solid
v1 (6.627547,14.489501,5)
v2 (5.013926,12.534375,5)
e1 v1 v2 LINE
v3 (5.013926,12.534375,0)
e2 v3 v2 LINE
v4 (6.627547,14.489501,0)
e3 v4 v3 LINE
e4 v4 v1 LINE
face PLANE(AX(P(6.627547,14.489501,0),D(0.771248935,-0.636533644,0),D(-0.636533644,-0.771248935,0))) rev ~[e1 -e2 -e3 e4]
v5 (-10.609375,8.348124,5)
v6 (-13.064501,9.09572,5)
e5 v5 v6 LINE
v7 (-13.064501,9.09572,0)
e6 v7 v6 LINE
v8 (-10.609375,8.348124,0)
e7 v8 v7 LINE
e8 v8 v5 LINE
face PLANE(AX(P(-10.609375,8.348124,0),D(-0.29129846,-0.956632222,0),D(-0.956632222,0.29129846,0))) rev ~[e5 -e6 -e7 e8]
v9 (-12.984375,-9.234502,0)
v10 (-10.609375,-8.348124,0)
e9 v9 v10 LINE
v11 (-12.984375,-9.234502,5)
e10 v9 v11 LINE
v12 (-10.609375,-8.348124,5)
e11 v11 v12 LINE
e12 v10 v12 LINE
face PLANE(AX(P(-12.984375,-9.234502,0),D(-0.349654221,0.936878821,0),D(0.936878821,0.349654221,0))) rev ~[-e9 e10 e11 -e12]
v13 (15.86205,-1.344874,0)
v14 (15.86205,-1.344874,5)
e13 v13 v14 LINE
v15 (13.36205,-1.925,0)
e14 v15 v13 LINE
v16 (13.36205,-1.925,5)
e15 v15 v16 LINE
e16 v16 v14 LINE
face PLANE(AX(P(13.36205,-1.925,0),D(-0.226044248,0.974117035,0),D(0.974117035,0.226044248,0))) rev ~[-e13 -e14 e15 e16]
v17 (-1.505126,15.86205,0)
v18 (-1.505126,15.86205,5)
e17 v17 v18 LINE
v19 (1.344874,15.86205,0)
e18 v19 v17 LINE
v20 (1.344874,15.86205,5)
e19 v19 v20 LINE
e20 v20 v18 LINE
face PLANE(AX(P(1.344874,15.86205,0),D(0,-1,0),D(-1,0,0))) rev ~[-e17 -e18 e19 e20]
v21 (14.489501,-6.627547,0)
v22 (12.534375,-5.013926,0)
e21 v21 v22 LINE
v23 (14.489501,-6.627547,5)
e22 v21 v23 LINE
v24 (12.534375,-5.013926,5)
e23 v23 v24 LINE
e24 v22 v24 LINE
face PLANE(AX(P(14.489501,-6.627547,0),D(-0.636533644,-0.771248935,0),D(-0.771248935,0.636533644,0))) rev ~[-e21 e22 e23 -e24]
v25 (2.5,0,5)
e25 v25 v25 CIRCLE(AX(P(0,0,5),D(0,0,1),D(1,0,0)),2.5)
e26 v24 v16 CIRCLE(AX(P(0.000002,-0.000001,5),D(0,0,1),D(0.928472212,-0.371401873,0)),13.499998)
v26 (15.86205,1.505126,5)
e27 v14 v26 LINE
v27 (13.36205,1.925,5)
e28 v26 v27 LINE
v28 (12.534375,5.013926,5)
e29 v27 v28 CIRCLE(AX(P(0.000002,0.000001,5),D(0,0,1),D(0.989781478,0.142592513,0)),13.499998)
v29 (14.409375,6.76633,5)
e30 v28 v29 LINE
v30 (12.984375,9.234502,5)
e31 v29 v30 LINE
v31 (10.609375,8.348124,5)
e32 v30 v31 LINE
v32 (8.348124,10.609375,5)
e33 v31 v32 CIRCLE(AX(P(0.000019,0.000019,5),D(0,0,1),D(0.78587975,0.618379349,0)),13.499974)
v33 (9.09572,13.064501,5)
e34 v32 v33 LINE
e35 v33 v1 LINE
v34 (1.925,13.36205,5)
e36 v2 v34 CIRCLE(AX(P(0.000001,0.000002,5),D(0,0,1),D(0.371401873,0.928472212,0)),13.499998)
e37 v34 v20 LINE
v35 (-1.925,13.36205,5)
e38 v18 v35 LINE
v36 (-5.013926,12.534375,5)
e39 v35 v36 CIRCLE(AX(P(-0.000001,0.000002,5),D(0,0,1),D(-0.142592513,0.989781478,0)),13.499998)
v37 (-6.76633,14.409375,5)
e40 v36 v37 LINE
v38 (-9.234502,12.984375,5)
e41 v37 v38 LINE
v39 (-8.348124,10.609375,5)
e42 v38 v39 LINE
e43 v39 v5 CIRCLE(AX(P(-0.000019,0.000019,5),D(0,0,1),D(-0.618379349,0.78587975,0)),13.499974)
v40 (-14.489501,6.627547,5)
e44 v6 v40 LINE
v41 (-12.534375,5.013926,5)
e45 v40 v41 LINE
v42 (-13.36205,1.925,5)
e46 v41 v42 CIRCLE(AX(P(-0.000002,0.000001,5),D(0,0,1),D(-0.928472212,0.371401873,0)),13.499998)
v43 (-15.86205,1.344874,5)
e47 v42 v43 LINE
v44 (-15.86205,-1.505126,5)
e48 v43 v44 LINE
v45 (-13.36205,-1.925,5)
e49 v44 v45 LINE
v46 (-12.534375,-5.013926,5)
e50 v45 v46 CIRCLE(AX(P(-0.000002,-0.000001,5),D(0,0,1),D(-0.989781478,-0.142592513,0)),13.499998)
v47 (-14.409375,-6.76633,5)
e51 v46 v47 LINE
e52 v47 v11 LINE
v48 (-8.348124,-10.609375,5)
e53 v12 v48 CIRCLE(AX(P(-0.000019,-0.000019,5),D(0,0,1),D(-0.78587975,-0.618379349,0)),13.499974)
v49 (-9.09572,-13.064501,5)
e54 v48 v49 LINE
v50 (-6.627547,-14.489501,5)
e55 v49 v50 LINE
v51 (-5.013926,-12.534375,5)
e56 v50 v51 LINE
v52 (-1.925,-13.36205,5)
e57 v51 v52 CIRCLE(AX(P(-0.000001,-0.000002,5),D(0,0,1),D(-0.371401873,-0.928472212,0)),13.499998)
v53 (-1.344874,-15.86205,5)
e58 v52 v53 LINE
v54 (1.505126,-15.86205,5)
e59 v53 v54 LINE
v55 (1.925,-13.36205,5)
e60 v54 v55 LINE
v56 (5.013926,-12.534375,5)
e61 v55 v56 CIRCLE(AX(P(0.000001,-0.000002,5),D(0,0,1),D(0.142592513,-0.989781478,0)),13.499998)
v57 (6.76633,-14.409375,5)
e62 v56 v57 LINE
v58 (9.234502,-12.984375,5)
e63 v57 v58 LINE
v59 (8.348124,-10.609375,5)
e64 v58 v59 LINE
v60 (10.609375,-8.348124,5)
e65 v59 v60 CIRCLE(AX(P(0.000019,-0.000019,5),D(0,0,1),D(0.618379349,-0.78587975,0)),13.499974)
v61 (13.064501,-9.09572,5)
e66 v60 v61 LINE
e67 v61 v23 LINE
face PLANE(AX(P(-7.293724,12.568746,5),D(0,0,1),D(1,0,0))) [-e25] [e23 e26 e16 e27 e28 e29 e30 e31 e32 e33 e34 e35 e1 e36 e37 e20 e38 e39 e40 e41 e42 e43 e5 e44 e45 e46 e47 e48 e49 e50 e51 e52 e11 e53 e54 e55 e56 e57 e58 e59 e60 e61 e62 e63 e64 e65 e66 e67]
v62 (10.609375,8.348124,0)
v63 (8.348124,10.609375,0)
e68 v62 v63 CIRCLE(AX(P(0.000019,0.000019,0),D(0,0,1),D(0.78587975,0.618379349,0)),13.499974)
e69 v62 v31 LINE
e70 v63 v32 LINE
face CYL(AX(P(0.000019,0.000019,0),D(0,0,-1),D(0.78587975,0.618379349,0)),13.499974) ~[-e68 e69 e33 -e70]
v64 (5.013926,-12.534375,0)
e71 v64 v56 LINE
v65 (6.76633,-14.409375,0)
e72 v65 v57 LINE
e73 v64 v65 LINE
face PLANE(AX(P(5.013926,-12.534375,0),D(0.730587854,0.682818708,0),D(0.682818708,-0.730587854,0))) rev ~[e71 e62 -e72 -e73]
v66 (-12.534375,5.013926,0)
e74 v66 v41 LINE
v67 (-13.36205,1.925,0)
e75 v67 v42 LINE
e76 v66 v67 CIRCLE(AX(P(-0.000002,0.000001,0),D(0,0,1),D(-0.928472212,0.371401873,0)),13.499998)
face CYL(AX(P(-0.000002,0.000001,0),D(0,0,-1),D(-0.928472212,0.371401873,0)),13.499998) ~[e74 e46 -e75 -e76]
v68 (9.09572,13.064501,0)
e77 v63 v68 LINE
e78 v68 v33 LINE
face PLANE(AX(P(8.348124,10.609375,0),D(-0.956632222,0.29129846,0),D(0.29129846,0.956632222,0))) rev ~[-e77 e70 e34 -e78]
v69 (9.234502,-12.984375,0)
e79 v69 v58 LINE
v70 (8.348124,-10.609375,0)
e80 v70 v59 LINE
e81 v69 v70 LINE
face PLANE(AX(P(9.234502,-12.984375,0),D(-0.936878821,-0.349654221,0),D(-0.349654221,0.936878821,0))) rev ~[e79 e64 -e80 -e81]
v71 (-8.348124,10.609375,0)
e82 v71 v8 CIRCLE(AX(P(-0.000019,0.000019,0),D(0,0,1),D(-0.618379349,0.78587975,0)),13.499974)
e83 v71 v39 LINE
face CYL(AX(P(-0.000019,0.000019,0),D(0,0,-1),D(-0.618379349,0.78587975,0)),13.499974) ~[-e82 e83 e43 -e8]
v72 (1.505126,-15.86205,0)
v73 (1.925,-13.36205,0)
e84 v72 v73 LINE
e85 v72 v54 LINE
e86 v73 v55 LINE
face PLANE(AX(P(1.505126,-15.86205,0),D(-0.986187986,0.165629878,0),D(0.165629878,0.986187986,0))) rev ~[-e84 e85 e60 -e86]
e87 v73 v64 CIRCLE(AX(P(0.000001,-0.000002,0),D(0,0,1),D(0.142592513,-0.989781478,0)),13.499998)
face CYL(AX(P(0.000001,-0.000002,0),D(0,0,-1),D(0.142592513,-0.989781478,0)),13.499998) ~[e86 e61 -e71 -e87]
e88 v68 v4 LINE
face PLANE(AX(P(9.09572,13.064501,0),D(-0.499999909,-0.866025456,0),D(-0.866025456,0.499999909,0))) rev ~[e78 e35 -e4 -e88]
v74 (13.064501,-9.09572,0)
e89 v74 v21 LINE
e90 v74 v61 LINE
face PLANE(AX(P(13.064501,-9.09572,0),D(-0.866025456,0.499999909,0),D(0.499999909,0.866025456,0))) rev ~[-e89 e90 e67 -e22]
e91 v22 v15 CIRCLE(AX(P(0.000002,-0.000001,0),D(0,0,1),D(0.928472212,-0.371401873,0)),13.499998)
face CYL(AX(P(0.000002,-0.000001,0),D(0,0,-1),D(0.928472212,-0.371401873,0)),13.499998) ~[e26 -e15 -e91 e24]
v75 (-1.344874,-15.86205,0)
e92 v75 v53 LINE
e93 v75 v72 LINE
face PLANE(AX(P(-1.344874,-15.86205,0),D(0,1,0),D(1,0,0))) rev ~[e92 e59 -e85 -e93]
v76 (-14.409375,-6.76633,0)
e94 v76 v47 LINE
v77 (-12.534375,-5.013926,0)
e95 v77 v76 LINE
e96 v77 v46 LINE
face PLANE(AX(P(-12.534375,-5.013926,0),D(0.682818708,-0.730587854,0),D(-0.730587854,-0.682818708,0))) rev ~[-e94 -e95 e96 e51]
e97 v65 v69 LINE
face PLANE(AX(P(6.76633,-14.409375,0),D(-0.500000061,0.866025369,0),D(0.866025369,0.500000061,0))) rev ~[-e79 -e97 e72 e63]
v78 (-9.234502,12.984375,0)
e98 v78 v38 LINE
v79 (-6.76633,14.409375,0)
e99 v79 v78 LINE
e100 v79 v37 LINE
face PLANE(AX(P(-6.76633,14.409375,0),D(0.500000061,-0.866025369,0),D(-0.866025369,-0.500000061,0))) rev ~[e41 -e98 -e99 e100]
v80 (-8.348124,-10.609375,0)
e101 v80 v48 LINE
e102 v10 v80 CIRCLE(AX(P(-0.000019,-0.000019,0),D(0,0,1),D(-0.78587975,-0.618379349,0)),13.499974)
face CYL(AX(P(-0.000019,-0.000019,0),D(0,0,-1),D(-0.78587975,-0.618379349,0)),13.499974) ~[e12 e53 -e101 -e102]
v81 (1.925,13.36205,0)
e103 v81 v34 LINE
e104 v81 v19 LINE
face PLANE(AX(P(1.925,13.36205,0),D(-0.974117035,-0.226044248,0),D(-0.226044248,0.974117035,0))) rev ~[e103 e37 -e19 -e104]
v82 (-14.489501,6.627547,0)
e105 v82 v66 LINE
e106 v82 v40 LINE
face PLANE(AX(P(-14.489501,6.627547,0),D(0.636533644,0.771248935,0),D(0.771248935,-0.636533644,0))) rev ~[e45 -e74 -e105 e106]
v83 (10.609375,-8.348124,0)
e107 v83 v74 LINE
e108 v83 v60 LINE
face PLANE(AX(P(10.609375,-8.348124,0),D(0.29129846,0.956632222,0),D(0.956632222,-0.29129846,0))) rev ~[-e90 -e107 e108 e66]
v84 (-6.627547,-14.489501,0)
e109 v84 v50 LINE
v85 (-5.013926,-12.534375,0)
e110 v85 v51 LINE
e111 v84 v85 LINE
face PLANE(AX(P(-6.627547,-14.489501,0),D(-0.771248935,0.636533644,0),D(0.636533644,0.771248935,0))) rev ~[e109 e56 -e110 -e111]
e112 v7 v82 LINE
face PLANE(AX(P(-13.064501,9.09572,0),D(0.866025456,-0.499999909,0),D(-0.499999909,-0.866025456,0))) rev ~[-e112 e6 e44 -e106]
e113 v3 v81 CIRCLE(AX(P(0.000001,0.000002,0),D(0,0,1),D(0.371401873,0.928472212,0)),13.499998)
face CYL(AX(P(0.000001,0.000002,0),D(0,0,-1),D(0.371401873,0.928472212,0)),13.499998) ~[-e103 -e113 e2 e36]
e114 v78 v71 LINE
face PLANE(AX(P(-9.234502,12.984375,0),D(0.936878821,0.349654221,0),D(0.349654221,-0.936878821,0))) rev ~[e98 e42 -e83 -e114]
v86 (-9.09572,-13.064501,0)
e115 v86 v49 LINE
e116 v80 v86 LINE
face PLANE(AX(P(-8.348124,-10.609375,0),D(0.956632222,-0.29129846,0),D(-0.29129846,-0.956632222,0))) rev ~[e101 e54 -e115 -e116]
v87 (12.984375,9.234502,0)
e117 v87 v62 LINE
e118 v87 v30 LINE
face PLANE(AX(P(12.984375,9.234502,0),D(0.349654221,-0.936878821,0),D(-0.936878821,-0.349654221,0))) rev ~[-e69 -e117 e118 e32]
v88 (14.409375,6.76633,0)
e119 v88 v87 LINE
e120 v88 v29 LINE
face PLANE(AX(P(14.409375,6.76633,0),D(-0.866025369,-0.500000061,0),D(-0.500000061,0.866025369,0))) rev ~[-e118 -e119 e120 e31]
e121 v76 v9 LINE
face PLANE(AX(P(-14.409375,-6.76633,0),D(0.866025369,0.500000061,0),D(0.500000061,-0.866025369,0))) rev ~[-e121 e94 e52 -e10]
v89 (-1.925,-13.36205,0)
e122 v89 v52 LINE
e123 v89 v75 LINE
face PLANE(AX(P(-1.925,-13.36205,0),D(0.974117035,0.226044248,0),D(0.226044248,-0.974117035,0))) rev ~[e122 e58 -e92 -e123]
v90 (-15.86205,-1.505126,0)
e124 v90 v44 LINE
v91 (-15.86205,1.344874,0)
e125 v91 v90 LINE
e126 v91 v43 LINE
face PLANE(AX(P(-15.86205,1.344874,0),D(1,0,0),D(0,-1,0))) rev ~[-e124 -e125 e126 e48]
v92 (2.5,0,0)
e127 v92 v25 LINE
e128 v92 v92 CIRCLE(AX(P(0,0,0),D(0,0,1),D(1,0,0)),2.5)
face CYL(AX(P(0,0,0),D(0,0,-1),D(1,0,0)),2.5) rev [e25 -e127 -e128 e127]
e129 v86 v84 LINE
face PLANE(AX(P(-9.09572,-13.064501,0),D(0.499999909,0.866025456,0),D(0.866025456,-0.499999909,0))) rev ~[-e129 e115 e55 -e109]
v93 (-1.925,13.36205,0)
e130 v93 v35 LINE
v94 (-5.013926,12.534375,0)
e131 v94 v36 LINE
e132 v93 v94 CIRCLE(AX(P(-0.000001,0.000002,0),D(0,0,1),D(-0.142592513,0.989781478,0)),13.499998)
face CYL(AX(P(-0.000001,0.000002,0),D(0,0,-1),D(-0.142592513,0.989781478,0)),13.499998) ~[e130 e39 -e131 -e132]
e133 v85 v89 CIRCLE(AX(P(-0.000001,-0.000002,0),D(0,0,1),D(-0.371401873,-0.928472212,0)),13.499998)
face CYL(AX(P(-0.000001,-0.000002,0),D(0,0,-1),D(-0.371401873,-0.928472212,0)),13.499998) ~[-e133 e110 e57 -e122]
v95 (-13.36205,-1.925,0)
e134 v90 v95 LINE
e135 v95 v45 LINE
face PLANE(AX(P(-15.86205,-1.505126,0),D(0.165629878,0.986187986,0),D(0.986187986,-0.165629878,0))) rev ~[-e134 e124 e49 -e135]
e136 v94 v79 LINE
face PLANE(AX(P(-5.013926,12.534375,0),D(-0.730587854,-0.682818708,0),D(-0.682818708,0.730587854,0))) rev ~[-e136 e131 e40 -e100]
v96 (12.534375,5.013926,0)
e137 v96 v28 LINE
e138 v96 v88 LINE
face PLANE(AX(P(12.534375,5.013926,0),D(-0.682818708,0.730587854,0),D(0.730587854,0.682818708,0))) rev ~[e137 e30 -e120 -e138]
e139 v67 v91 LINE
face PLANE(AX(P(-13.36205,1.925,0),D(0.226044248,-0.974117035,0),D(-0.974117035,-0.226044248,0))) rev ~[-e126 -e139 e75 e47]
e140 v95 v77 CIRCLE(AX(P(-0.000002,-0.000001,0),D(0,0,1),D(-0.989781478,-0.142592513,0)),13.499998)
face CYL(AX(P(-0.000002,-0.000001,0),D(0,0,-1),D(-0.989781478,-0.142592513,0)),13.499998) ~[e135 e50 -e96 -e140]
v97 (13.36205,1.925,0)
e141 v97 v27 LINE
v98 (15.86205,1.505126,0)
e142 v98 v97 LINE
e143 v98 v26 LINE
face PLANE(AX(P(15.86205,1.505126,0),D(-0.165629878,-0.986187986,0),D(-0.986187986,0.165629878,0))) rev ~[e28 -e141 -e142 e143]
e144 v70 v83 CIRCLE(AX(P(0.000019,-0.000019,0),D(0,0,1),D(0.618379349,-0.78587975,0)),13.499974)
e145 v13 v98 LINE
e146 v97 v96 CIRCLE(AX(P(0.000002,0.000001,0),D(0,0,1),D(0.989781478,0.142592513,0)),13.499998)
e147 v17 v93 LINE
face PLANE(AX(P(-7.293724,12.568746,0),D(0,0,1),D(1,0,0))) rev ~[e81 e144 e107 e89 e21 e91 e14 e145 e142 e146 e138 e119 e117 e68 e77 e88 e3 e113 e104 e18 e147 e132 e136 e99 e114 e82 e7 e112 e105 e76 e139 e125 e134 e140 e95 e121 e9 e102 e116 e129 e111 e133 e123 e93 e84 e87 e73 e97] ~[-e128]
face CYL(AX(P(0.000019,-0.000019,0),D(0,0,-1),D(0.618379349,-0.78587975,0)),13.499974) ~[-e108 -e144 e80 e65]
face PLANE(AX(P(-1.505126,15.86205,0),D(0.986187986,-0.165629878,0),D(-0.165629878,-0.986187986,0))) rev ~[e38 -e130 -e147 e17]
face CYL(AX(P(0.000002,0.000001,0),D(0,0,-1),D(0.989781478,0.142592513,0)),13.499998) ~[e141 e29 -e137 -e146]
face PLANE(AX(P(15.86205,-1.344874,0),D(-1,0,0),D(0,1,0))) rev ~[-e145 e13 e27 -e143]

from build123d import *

# Parameters (mm, degrees)
F0_R     = 2.5
F1_DEPTH = 5


with BuildPart() as f1:
    # F0 (on Top) → F1 (new body)
    with BuildSketch(Plane.XY):
        with BuildLine():
            ThreePointArc((-8.348124, 10.609375), (-6.75, 11.691343), (-5.013926, 12.534375))
            Line((-5.013926, 12.534375), (-6.76633, 14.409375))
            Line((-6.76633, 14.409375), (-9.234502, 12.984375))
            Line((-9.234502, 12.984375), (-8.348124, 10.609375))
        make_face()
        with BuildLine():
            Line((13.36205, -1.925), (13.36205, 1.925))
            ThreePointArc((13.36205, 1.925), (13.039999, 3.494057), (12.534375, 5.013926))
            Line((12.534375, 5.013926), (10.609375, 8.348124))
            ThreePointArc((10.609375, 8.348124), (9.545942, 9.545942), (8.348124, 10.609375))
            Line((8.348124, 10.609375), (5.013926, 12.534375))
            ThreePointArc((5.013926, 12.534375), (3.494057, 13.039999), (1.925, 13.36205))
            Line((1.925, 13.36205), (-1.925, 13.36205))
            ThreePointArc((-1.925, 13.36205), (-3.494057, 13.039999), (-5.013926, 12.534375))
            Line((-5.013926, 12.534375), (-8.348124, 10.609375))
            ThreePointArc((-8.348124, 10.609375), (-9.545942, 9.545942), (-10.609375, 8.348124))
            Line((-10.609375, 8.348124), (-12.534375, 5.013926))
            ThreePointArc((-12.534375, 5.013926), (-13.039999, 3.494057), (-13.36205, 1.925))
            Line((-13.36205, 1.925), (-13.36205, -1.925))
            ThreePointArc((-13.36205, -1.925), (-13.039999, -3.494057), (-12.534375, -5.013926))
            Line((-12.534375, -5.013926), (-10.609375, -8.348124))
            ThreePointArc((-10.609375, -8.348124), (-9.545942, -9.545942), (-8.348124, -10.609375))
            Line((-8.348124, -10.609375), (-5.013926, -12.534375))
            ThreePointArc((-5.013926, -12.534375), (-3.494057, -13.039999), (-1.925, -13.36205))
            Line((-1.925, -13.36205), (1.925, -13.36205))
            ThreePointArc((1.925, -13.36205), (3.494057, -13.039999), (5.013926, -12.534375))
            Line((5.013926, -12.534375), (8.348124, -10.609375))
            ThreePointArc((8.348124, -10.609375), (9.545942, -9.545942), (10.609375, -8.348124))
            Line((10.609375, -8.348124), (12.534375, -5.013926))
            ThreePointArc((12.534375, -5.013926), (13.039999, -3.494057), (13.36205, -1.925))
        make_face()
        Circle(F0_R, mode=Mode.SUBTRACT)
        with BuildLine():
            ThreePointArc((-12.534375, 5.013926), (-11.691343, 6.75), (-10.609375, 8.348124))
            Line((-10.609375, 8.348124), (-13.064501, 9.09572))
            Line((-13.064501, 9.09572), (-14.489501, 6.627547))
            Line((-14.489501, 6.627547), (-12.534375, 5.013926))
        make_face()
        with BuildLine():
            ThreePointArc((-13.36205, -1.925), (-13.5, 0), (-13.36205, 1.925))
            Line((-13.36205, 1.925), (-15.86205, 1.344874))
            Line((-15.86205, 1.344874), (-15.86205, -1.505126))
            Line((-15.86205, -1.505126), (-13.36205, -1.925))
        make_face()
        with BuildLine():
            Line((-12.984375, -9.234502), (-10.609375, -8.348124))
            ThreePointArc((-10.609375, -8.348124), (-11.691343, -6.75), (-12.534375, -5.013926))
            Line((-12.534375, -5.013926), (-14.409375, -6.76633))
            Line((-14.409375, -6.76633), (-12.984375, -9.234502))
        make_face()
        with BuildLine():
            Line((-6.627547, -14.489501), (-5.013926, -12.534375))
            ThreePointArc((-5.013926, -12.534375), (-6.75, -11.691343), (-8.348124, -10.609375))
            Line((-8.348124, -10.609375), (-9.09572, -13.064501))
            Line((-9.09572, -13.064501), (-6.627547, -14.489501))
        make_face()
        with BuildLine():
            Line((1.505126, -15.86205), (1.925, -13.36205))
            ThreePointArc((1.925, -13.36205), (0, -13.5), (-1.925, -13.36205))
            Line((-1.925, -13.36205), (-1.344874, -15.86205))
            Line((-1.344874, -15.86205), (1.505126, -15.86205))
        make_face()
        with BuildLine():
            Line((9.234502, -12.984375), (8.348124, -10.609375))
            ThreePointArc((8.348124, -10.609375), (6.75, -11.691343), (5.013926, -12.534375))
            Line((5.013926, -12.534375), (6.76633, -14.409375))
            Line((6.76633, -14.409375), (9.234502, -12.984375))
        make_face()
        with BuildLine():
            Line((14.489501, -6.627547), (12.534375, -5.013926))
            ThreePointArc((12.534375, -5.013926), (11.691343, -6.75), (10.609375, -8.348124))
            Line((10.609375, -8.348124), (13.064501, -9.09572))
            Line((13.064501, -9.09572), (14.489501, -6.627547))
        make_face()
        with BuildLine():
            ThreePointArc((13.36205, 1.925), (13.465468, 0.964968), (13.5, 0))
            ThreePointArc((13.5, 0), (13.465468, -0.964968), (13.36205, -1.925))
            Line((13.36205, -1.925), (15.86205, -1.344874))
            Line((15.86205, -1.344874), (15.86205, 1.505126))
            Line((15.86205, 1.505126), (13.36205, 1.925))
        make_face()
        with BuildLine():
            ThreePointArc((5.013926, 12.534375), (6.75, 11.691343), (8.348124, 10.609375))
            Line((8.348124, 10.609375), (9.09572, 13.064501))
            Line((9.09572, 13.064501), (6.627547, 14.489501))
            Line((6.627547, 14.489501), (5.013926, 12.534375))
        make_face()
        with BuildLine():
            ThreePointArc((-1.925, 13.36205), (0, 13.5), (1.925, 13.36205))
            Line((1.925, 13.36205), (1.344874, 15.86205))
            Line((1.344874, 15.86205), (-1.505126, 15.86205))
            Line((-1.505126, 15.86205), (-1.925, 13.36205))
        make_face()
        with BuildLine():
            ThreePointArc((10.609375, 8.348124), (11.691343, 6.75), (12.534375, 5.013926))
            Line((12.534375, 5.013926), (14.409375, 6.76633))
            Line((14.409375, 6.76633), (12.984375, 9.234502))
            Line((12.984375, 9.234502), (10.609375, 8.348124))
        make_face()
        with BuildLine():
            ThreePointArc((13.36205, -1.925), (13.465468, -0.964968), (13.5, 0))
            ThreePointArc((13.5, 0), (13.465468, 0.964968), (13.36205, 1.925))
            Line((13.36205, 1.925), (13.36205, -1.925))
        make_face()
        with BuildLine():
            Line((10.609375, 8.348124), (12.534375, 5.013926))
            ThreePointArc((12.534375, 5.013926), (11.691343, 6.75), (10.609375, 8.348124))
        make_face()
        with BuildLine():
            Line((5.013926, 12.534375), (8.348124, 10.609375))
            ThreePointArc((8.348124, 10.609375), (6.75, 11.691343), (5.013926, 12.534375))
        make_face()
        with BuildLine():
            Line((-1.925, 13.36205), (1.925, 13.36205))
            ThreePointArc((1.925, 13.36205), (0, 13.5), (-1.925, 13.36205))
        make_face()
        with BuildLine():
            ThreePointArc((-12.534375, -5.013926), (-11.691343, -6.75), (-10.609375, -8.348124))
            Line((-10.609375, -8.348124), (-12.534375, -5.013926))
        make_face()
        with BuildLine():
            ThreePointArc((-8.348124, -10.609375), (-6.75, -11.691343), (-5.013926, -12.534375))
            Line((-5.013926, -12.534375), (-8.348124, -10.609375))
        make_face()
        with BuildLine():
            ThreePointArc((-1.925, -13.36205), (0, -13.5), (1.925, -13.36205))
            Line((1.925, -13.36205), (-1.925, -13.36205))
        make_face()
        with BuildLine():
            ThreePointArc((5.013926, -12.534375), (6.75, -11.691343), (8.348124, -10.609375))
            Line((8.348124, -10.609375), (5.013926, -12.534375))
        make_face()
        with BuildLine():
            ThreePointArc((10.609375, -8.348124), (11.691343, -6.75), (12.534375, -5.013926))
            Line((12.534375, -5.013926), (10.609375, -8.348124))
        make_face()
        with BuildLine():
            Line((-13.36205, -1.925), (-13.36205, 1.925))
            ThreePointArc((-13.36205, 1.925), (-13.5, 0), (-13.36205, -1.925))
        make_face()
        with BuildLine():
            Line((-12.534375, 5.013926), (-10.609375, 8.348124))
            ThreePointArc((-10.609375, 8.348124), (-11.691343, 6.75), (-12.534375, 5.013926))
        make_face()
        with BuildLine():
            Line((-8.348124, 10.609375), (-5.013926, 12.534375))
            ThreePointArc((-5.013926, 12.534375), (-6.75, 11.691343), (-8.348124, 10.609375))
        make_face()
    extrude(amount=F1_DEPTH)


solid = f1.part
